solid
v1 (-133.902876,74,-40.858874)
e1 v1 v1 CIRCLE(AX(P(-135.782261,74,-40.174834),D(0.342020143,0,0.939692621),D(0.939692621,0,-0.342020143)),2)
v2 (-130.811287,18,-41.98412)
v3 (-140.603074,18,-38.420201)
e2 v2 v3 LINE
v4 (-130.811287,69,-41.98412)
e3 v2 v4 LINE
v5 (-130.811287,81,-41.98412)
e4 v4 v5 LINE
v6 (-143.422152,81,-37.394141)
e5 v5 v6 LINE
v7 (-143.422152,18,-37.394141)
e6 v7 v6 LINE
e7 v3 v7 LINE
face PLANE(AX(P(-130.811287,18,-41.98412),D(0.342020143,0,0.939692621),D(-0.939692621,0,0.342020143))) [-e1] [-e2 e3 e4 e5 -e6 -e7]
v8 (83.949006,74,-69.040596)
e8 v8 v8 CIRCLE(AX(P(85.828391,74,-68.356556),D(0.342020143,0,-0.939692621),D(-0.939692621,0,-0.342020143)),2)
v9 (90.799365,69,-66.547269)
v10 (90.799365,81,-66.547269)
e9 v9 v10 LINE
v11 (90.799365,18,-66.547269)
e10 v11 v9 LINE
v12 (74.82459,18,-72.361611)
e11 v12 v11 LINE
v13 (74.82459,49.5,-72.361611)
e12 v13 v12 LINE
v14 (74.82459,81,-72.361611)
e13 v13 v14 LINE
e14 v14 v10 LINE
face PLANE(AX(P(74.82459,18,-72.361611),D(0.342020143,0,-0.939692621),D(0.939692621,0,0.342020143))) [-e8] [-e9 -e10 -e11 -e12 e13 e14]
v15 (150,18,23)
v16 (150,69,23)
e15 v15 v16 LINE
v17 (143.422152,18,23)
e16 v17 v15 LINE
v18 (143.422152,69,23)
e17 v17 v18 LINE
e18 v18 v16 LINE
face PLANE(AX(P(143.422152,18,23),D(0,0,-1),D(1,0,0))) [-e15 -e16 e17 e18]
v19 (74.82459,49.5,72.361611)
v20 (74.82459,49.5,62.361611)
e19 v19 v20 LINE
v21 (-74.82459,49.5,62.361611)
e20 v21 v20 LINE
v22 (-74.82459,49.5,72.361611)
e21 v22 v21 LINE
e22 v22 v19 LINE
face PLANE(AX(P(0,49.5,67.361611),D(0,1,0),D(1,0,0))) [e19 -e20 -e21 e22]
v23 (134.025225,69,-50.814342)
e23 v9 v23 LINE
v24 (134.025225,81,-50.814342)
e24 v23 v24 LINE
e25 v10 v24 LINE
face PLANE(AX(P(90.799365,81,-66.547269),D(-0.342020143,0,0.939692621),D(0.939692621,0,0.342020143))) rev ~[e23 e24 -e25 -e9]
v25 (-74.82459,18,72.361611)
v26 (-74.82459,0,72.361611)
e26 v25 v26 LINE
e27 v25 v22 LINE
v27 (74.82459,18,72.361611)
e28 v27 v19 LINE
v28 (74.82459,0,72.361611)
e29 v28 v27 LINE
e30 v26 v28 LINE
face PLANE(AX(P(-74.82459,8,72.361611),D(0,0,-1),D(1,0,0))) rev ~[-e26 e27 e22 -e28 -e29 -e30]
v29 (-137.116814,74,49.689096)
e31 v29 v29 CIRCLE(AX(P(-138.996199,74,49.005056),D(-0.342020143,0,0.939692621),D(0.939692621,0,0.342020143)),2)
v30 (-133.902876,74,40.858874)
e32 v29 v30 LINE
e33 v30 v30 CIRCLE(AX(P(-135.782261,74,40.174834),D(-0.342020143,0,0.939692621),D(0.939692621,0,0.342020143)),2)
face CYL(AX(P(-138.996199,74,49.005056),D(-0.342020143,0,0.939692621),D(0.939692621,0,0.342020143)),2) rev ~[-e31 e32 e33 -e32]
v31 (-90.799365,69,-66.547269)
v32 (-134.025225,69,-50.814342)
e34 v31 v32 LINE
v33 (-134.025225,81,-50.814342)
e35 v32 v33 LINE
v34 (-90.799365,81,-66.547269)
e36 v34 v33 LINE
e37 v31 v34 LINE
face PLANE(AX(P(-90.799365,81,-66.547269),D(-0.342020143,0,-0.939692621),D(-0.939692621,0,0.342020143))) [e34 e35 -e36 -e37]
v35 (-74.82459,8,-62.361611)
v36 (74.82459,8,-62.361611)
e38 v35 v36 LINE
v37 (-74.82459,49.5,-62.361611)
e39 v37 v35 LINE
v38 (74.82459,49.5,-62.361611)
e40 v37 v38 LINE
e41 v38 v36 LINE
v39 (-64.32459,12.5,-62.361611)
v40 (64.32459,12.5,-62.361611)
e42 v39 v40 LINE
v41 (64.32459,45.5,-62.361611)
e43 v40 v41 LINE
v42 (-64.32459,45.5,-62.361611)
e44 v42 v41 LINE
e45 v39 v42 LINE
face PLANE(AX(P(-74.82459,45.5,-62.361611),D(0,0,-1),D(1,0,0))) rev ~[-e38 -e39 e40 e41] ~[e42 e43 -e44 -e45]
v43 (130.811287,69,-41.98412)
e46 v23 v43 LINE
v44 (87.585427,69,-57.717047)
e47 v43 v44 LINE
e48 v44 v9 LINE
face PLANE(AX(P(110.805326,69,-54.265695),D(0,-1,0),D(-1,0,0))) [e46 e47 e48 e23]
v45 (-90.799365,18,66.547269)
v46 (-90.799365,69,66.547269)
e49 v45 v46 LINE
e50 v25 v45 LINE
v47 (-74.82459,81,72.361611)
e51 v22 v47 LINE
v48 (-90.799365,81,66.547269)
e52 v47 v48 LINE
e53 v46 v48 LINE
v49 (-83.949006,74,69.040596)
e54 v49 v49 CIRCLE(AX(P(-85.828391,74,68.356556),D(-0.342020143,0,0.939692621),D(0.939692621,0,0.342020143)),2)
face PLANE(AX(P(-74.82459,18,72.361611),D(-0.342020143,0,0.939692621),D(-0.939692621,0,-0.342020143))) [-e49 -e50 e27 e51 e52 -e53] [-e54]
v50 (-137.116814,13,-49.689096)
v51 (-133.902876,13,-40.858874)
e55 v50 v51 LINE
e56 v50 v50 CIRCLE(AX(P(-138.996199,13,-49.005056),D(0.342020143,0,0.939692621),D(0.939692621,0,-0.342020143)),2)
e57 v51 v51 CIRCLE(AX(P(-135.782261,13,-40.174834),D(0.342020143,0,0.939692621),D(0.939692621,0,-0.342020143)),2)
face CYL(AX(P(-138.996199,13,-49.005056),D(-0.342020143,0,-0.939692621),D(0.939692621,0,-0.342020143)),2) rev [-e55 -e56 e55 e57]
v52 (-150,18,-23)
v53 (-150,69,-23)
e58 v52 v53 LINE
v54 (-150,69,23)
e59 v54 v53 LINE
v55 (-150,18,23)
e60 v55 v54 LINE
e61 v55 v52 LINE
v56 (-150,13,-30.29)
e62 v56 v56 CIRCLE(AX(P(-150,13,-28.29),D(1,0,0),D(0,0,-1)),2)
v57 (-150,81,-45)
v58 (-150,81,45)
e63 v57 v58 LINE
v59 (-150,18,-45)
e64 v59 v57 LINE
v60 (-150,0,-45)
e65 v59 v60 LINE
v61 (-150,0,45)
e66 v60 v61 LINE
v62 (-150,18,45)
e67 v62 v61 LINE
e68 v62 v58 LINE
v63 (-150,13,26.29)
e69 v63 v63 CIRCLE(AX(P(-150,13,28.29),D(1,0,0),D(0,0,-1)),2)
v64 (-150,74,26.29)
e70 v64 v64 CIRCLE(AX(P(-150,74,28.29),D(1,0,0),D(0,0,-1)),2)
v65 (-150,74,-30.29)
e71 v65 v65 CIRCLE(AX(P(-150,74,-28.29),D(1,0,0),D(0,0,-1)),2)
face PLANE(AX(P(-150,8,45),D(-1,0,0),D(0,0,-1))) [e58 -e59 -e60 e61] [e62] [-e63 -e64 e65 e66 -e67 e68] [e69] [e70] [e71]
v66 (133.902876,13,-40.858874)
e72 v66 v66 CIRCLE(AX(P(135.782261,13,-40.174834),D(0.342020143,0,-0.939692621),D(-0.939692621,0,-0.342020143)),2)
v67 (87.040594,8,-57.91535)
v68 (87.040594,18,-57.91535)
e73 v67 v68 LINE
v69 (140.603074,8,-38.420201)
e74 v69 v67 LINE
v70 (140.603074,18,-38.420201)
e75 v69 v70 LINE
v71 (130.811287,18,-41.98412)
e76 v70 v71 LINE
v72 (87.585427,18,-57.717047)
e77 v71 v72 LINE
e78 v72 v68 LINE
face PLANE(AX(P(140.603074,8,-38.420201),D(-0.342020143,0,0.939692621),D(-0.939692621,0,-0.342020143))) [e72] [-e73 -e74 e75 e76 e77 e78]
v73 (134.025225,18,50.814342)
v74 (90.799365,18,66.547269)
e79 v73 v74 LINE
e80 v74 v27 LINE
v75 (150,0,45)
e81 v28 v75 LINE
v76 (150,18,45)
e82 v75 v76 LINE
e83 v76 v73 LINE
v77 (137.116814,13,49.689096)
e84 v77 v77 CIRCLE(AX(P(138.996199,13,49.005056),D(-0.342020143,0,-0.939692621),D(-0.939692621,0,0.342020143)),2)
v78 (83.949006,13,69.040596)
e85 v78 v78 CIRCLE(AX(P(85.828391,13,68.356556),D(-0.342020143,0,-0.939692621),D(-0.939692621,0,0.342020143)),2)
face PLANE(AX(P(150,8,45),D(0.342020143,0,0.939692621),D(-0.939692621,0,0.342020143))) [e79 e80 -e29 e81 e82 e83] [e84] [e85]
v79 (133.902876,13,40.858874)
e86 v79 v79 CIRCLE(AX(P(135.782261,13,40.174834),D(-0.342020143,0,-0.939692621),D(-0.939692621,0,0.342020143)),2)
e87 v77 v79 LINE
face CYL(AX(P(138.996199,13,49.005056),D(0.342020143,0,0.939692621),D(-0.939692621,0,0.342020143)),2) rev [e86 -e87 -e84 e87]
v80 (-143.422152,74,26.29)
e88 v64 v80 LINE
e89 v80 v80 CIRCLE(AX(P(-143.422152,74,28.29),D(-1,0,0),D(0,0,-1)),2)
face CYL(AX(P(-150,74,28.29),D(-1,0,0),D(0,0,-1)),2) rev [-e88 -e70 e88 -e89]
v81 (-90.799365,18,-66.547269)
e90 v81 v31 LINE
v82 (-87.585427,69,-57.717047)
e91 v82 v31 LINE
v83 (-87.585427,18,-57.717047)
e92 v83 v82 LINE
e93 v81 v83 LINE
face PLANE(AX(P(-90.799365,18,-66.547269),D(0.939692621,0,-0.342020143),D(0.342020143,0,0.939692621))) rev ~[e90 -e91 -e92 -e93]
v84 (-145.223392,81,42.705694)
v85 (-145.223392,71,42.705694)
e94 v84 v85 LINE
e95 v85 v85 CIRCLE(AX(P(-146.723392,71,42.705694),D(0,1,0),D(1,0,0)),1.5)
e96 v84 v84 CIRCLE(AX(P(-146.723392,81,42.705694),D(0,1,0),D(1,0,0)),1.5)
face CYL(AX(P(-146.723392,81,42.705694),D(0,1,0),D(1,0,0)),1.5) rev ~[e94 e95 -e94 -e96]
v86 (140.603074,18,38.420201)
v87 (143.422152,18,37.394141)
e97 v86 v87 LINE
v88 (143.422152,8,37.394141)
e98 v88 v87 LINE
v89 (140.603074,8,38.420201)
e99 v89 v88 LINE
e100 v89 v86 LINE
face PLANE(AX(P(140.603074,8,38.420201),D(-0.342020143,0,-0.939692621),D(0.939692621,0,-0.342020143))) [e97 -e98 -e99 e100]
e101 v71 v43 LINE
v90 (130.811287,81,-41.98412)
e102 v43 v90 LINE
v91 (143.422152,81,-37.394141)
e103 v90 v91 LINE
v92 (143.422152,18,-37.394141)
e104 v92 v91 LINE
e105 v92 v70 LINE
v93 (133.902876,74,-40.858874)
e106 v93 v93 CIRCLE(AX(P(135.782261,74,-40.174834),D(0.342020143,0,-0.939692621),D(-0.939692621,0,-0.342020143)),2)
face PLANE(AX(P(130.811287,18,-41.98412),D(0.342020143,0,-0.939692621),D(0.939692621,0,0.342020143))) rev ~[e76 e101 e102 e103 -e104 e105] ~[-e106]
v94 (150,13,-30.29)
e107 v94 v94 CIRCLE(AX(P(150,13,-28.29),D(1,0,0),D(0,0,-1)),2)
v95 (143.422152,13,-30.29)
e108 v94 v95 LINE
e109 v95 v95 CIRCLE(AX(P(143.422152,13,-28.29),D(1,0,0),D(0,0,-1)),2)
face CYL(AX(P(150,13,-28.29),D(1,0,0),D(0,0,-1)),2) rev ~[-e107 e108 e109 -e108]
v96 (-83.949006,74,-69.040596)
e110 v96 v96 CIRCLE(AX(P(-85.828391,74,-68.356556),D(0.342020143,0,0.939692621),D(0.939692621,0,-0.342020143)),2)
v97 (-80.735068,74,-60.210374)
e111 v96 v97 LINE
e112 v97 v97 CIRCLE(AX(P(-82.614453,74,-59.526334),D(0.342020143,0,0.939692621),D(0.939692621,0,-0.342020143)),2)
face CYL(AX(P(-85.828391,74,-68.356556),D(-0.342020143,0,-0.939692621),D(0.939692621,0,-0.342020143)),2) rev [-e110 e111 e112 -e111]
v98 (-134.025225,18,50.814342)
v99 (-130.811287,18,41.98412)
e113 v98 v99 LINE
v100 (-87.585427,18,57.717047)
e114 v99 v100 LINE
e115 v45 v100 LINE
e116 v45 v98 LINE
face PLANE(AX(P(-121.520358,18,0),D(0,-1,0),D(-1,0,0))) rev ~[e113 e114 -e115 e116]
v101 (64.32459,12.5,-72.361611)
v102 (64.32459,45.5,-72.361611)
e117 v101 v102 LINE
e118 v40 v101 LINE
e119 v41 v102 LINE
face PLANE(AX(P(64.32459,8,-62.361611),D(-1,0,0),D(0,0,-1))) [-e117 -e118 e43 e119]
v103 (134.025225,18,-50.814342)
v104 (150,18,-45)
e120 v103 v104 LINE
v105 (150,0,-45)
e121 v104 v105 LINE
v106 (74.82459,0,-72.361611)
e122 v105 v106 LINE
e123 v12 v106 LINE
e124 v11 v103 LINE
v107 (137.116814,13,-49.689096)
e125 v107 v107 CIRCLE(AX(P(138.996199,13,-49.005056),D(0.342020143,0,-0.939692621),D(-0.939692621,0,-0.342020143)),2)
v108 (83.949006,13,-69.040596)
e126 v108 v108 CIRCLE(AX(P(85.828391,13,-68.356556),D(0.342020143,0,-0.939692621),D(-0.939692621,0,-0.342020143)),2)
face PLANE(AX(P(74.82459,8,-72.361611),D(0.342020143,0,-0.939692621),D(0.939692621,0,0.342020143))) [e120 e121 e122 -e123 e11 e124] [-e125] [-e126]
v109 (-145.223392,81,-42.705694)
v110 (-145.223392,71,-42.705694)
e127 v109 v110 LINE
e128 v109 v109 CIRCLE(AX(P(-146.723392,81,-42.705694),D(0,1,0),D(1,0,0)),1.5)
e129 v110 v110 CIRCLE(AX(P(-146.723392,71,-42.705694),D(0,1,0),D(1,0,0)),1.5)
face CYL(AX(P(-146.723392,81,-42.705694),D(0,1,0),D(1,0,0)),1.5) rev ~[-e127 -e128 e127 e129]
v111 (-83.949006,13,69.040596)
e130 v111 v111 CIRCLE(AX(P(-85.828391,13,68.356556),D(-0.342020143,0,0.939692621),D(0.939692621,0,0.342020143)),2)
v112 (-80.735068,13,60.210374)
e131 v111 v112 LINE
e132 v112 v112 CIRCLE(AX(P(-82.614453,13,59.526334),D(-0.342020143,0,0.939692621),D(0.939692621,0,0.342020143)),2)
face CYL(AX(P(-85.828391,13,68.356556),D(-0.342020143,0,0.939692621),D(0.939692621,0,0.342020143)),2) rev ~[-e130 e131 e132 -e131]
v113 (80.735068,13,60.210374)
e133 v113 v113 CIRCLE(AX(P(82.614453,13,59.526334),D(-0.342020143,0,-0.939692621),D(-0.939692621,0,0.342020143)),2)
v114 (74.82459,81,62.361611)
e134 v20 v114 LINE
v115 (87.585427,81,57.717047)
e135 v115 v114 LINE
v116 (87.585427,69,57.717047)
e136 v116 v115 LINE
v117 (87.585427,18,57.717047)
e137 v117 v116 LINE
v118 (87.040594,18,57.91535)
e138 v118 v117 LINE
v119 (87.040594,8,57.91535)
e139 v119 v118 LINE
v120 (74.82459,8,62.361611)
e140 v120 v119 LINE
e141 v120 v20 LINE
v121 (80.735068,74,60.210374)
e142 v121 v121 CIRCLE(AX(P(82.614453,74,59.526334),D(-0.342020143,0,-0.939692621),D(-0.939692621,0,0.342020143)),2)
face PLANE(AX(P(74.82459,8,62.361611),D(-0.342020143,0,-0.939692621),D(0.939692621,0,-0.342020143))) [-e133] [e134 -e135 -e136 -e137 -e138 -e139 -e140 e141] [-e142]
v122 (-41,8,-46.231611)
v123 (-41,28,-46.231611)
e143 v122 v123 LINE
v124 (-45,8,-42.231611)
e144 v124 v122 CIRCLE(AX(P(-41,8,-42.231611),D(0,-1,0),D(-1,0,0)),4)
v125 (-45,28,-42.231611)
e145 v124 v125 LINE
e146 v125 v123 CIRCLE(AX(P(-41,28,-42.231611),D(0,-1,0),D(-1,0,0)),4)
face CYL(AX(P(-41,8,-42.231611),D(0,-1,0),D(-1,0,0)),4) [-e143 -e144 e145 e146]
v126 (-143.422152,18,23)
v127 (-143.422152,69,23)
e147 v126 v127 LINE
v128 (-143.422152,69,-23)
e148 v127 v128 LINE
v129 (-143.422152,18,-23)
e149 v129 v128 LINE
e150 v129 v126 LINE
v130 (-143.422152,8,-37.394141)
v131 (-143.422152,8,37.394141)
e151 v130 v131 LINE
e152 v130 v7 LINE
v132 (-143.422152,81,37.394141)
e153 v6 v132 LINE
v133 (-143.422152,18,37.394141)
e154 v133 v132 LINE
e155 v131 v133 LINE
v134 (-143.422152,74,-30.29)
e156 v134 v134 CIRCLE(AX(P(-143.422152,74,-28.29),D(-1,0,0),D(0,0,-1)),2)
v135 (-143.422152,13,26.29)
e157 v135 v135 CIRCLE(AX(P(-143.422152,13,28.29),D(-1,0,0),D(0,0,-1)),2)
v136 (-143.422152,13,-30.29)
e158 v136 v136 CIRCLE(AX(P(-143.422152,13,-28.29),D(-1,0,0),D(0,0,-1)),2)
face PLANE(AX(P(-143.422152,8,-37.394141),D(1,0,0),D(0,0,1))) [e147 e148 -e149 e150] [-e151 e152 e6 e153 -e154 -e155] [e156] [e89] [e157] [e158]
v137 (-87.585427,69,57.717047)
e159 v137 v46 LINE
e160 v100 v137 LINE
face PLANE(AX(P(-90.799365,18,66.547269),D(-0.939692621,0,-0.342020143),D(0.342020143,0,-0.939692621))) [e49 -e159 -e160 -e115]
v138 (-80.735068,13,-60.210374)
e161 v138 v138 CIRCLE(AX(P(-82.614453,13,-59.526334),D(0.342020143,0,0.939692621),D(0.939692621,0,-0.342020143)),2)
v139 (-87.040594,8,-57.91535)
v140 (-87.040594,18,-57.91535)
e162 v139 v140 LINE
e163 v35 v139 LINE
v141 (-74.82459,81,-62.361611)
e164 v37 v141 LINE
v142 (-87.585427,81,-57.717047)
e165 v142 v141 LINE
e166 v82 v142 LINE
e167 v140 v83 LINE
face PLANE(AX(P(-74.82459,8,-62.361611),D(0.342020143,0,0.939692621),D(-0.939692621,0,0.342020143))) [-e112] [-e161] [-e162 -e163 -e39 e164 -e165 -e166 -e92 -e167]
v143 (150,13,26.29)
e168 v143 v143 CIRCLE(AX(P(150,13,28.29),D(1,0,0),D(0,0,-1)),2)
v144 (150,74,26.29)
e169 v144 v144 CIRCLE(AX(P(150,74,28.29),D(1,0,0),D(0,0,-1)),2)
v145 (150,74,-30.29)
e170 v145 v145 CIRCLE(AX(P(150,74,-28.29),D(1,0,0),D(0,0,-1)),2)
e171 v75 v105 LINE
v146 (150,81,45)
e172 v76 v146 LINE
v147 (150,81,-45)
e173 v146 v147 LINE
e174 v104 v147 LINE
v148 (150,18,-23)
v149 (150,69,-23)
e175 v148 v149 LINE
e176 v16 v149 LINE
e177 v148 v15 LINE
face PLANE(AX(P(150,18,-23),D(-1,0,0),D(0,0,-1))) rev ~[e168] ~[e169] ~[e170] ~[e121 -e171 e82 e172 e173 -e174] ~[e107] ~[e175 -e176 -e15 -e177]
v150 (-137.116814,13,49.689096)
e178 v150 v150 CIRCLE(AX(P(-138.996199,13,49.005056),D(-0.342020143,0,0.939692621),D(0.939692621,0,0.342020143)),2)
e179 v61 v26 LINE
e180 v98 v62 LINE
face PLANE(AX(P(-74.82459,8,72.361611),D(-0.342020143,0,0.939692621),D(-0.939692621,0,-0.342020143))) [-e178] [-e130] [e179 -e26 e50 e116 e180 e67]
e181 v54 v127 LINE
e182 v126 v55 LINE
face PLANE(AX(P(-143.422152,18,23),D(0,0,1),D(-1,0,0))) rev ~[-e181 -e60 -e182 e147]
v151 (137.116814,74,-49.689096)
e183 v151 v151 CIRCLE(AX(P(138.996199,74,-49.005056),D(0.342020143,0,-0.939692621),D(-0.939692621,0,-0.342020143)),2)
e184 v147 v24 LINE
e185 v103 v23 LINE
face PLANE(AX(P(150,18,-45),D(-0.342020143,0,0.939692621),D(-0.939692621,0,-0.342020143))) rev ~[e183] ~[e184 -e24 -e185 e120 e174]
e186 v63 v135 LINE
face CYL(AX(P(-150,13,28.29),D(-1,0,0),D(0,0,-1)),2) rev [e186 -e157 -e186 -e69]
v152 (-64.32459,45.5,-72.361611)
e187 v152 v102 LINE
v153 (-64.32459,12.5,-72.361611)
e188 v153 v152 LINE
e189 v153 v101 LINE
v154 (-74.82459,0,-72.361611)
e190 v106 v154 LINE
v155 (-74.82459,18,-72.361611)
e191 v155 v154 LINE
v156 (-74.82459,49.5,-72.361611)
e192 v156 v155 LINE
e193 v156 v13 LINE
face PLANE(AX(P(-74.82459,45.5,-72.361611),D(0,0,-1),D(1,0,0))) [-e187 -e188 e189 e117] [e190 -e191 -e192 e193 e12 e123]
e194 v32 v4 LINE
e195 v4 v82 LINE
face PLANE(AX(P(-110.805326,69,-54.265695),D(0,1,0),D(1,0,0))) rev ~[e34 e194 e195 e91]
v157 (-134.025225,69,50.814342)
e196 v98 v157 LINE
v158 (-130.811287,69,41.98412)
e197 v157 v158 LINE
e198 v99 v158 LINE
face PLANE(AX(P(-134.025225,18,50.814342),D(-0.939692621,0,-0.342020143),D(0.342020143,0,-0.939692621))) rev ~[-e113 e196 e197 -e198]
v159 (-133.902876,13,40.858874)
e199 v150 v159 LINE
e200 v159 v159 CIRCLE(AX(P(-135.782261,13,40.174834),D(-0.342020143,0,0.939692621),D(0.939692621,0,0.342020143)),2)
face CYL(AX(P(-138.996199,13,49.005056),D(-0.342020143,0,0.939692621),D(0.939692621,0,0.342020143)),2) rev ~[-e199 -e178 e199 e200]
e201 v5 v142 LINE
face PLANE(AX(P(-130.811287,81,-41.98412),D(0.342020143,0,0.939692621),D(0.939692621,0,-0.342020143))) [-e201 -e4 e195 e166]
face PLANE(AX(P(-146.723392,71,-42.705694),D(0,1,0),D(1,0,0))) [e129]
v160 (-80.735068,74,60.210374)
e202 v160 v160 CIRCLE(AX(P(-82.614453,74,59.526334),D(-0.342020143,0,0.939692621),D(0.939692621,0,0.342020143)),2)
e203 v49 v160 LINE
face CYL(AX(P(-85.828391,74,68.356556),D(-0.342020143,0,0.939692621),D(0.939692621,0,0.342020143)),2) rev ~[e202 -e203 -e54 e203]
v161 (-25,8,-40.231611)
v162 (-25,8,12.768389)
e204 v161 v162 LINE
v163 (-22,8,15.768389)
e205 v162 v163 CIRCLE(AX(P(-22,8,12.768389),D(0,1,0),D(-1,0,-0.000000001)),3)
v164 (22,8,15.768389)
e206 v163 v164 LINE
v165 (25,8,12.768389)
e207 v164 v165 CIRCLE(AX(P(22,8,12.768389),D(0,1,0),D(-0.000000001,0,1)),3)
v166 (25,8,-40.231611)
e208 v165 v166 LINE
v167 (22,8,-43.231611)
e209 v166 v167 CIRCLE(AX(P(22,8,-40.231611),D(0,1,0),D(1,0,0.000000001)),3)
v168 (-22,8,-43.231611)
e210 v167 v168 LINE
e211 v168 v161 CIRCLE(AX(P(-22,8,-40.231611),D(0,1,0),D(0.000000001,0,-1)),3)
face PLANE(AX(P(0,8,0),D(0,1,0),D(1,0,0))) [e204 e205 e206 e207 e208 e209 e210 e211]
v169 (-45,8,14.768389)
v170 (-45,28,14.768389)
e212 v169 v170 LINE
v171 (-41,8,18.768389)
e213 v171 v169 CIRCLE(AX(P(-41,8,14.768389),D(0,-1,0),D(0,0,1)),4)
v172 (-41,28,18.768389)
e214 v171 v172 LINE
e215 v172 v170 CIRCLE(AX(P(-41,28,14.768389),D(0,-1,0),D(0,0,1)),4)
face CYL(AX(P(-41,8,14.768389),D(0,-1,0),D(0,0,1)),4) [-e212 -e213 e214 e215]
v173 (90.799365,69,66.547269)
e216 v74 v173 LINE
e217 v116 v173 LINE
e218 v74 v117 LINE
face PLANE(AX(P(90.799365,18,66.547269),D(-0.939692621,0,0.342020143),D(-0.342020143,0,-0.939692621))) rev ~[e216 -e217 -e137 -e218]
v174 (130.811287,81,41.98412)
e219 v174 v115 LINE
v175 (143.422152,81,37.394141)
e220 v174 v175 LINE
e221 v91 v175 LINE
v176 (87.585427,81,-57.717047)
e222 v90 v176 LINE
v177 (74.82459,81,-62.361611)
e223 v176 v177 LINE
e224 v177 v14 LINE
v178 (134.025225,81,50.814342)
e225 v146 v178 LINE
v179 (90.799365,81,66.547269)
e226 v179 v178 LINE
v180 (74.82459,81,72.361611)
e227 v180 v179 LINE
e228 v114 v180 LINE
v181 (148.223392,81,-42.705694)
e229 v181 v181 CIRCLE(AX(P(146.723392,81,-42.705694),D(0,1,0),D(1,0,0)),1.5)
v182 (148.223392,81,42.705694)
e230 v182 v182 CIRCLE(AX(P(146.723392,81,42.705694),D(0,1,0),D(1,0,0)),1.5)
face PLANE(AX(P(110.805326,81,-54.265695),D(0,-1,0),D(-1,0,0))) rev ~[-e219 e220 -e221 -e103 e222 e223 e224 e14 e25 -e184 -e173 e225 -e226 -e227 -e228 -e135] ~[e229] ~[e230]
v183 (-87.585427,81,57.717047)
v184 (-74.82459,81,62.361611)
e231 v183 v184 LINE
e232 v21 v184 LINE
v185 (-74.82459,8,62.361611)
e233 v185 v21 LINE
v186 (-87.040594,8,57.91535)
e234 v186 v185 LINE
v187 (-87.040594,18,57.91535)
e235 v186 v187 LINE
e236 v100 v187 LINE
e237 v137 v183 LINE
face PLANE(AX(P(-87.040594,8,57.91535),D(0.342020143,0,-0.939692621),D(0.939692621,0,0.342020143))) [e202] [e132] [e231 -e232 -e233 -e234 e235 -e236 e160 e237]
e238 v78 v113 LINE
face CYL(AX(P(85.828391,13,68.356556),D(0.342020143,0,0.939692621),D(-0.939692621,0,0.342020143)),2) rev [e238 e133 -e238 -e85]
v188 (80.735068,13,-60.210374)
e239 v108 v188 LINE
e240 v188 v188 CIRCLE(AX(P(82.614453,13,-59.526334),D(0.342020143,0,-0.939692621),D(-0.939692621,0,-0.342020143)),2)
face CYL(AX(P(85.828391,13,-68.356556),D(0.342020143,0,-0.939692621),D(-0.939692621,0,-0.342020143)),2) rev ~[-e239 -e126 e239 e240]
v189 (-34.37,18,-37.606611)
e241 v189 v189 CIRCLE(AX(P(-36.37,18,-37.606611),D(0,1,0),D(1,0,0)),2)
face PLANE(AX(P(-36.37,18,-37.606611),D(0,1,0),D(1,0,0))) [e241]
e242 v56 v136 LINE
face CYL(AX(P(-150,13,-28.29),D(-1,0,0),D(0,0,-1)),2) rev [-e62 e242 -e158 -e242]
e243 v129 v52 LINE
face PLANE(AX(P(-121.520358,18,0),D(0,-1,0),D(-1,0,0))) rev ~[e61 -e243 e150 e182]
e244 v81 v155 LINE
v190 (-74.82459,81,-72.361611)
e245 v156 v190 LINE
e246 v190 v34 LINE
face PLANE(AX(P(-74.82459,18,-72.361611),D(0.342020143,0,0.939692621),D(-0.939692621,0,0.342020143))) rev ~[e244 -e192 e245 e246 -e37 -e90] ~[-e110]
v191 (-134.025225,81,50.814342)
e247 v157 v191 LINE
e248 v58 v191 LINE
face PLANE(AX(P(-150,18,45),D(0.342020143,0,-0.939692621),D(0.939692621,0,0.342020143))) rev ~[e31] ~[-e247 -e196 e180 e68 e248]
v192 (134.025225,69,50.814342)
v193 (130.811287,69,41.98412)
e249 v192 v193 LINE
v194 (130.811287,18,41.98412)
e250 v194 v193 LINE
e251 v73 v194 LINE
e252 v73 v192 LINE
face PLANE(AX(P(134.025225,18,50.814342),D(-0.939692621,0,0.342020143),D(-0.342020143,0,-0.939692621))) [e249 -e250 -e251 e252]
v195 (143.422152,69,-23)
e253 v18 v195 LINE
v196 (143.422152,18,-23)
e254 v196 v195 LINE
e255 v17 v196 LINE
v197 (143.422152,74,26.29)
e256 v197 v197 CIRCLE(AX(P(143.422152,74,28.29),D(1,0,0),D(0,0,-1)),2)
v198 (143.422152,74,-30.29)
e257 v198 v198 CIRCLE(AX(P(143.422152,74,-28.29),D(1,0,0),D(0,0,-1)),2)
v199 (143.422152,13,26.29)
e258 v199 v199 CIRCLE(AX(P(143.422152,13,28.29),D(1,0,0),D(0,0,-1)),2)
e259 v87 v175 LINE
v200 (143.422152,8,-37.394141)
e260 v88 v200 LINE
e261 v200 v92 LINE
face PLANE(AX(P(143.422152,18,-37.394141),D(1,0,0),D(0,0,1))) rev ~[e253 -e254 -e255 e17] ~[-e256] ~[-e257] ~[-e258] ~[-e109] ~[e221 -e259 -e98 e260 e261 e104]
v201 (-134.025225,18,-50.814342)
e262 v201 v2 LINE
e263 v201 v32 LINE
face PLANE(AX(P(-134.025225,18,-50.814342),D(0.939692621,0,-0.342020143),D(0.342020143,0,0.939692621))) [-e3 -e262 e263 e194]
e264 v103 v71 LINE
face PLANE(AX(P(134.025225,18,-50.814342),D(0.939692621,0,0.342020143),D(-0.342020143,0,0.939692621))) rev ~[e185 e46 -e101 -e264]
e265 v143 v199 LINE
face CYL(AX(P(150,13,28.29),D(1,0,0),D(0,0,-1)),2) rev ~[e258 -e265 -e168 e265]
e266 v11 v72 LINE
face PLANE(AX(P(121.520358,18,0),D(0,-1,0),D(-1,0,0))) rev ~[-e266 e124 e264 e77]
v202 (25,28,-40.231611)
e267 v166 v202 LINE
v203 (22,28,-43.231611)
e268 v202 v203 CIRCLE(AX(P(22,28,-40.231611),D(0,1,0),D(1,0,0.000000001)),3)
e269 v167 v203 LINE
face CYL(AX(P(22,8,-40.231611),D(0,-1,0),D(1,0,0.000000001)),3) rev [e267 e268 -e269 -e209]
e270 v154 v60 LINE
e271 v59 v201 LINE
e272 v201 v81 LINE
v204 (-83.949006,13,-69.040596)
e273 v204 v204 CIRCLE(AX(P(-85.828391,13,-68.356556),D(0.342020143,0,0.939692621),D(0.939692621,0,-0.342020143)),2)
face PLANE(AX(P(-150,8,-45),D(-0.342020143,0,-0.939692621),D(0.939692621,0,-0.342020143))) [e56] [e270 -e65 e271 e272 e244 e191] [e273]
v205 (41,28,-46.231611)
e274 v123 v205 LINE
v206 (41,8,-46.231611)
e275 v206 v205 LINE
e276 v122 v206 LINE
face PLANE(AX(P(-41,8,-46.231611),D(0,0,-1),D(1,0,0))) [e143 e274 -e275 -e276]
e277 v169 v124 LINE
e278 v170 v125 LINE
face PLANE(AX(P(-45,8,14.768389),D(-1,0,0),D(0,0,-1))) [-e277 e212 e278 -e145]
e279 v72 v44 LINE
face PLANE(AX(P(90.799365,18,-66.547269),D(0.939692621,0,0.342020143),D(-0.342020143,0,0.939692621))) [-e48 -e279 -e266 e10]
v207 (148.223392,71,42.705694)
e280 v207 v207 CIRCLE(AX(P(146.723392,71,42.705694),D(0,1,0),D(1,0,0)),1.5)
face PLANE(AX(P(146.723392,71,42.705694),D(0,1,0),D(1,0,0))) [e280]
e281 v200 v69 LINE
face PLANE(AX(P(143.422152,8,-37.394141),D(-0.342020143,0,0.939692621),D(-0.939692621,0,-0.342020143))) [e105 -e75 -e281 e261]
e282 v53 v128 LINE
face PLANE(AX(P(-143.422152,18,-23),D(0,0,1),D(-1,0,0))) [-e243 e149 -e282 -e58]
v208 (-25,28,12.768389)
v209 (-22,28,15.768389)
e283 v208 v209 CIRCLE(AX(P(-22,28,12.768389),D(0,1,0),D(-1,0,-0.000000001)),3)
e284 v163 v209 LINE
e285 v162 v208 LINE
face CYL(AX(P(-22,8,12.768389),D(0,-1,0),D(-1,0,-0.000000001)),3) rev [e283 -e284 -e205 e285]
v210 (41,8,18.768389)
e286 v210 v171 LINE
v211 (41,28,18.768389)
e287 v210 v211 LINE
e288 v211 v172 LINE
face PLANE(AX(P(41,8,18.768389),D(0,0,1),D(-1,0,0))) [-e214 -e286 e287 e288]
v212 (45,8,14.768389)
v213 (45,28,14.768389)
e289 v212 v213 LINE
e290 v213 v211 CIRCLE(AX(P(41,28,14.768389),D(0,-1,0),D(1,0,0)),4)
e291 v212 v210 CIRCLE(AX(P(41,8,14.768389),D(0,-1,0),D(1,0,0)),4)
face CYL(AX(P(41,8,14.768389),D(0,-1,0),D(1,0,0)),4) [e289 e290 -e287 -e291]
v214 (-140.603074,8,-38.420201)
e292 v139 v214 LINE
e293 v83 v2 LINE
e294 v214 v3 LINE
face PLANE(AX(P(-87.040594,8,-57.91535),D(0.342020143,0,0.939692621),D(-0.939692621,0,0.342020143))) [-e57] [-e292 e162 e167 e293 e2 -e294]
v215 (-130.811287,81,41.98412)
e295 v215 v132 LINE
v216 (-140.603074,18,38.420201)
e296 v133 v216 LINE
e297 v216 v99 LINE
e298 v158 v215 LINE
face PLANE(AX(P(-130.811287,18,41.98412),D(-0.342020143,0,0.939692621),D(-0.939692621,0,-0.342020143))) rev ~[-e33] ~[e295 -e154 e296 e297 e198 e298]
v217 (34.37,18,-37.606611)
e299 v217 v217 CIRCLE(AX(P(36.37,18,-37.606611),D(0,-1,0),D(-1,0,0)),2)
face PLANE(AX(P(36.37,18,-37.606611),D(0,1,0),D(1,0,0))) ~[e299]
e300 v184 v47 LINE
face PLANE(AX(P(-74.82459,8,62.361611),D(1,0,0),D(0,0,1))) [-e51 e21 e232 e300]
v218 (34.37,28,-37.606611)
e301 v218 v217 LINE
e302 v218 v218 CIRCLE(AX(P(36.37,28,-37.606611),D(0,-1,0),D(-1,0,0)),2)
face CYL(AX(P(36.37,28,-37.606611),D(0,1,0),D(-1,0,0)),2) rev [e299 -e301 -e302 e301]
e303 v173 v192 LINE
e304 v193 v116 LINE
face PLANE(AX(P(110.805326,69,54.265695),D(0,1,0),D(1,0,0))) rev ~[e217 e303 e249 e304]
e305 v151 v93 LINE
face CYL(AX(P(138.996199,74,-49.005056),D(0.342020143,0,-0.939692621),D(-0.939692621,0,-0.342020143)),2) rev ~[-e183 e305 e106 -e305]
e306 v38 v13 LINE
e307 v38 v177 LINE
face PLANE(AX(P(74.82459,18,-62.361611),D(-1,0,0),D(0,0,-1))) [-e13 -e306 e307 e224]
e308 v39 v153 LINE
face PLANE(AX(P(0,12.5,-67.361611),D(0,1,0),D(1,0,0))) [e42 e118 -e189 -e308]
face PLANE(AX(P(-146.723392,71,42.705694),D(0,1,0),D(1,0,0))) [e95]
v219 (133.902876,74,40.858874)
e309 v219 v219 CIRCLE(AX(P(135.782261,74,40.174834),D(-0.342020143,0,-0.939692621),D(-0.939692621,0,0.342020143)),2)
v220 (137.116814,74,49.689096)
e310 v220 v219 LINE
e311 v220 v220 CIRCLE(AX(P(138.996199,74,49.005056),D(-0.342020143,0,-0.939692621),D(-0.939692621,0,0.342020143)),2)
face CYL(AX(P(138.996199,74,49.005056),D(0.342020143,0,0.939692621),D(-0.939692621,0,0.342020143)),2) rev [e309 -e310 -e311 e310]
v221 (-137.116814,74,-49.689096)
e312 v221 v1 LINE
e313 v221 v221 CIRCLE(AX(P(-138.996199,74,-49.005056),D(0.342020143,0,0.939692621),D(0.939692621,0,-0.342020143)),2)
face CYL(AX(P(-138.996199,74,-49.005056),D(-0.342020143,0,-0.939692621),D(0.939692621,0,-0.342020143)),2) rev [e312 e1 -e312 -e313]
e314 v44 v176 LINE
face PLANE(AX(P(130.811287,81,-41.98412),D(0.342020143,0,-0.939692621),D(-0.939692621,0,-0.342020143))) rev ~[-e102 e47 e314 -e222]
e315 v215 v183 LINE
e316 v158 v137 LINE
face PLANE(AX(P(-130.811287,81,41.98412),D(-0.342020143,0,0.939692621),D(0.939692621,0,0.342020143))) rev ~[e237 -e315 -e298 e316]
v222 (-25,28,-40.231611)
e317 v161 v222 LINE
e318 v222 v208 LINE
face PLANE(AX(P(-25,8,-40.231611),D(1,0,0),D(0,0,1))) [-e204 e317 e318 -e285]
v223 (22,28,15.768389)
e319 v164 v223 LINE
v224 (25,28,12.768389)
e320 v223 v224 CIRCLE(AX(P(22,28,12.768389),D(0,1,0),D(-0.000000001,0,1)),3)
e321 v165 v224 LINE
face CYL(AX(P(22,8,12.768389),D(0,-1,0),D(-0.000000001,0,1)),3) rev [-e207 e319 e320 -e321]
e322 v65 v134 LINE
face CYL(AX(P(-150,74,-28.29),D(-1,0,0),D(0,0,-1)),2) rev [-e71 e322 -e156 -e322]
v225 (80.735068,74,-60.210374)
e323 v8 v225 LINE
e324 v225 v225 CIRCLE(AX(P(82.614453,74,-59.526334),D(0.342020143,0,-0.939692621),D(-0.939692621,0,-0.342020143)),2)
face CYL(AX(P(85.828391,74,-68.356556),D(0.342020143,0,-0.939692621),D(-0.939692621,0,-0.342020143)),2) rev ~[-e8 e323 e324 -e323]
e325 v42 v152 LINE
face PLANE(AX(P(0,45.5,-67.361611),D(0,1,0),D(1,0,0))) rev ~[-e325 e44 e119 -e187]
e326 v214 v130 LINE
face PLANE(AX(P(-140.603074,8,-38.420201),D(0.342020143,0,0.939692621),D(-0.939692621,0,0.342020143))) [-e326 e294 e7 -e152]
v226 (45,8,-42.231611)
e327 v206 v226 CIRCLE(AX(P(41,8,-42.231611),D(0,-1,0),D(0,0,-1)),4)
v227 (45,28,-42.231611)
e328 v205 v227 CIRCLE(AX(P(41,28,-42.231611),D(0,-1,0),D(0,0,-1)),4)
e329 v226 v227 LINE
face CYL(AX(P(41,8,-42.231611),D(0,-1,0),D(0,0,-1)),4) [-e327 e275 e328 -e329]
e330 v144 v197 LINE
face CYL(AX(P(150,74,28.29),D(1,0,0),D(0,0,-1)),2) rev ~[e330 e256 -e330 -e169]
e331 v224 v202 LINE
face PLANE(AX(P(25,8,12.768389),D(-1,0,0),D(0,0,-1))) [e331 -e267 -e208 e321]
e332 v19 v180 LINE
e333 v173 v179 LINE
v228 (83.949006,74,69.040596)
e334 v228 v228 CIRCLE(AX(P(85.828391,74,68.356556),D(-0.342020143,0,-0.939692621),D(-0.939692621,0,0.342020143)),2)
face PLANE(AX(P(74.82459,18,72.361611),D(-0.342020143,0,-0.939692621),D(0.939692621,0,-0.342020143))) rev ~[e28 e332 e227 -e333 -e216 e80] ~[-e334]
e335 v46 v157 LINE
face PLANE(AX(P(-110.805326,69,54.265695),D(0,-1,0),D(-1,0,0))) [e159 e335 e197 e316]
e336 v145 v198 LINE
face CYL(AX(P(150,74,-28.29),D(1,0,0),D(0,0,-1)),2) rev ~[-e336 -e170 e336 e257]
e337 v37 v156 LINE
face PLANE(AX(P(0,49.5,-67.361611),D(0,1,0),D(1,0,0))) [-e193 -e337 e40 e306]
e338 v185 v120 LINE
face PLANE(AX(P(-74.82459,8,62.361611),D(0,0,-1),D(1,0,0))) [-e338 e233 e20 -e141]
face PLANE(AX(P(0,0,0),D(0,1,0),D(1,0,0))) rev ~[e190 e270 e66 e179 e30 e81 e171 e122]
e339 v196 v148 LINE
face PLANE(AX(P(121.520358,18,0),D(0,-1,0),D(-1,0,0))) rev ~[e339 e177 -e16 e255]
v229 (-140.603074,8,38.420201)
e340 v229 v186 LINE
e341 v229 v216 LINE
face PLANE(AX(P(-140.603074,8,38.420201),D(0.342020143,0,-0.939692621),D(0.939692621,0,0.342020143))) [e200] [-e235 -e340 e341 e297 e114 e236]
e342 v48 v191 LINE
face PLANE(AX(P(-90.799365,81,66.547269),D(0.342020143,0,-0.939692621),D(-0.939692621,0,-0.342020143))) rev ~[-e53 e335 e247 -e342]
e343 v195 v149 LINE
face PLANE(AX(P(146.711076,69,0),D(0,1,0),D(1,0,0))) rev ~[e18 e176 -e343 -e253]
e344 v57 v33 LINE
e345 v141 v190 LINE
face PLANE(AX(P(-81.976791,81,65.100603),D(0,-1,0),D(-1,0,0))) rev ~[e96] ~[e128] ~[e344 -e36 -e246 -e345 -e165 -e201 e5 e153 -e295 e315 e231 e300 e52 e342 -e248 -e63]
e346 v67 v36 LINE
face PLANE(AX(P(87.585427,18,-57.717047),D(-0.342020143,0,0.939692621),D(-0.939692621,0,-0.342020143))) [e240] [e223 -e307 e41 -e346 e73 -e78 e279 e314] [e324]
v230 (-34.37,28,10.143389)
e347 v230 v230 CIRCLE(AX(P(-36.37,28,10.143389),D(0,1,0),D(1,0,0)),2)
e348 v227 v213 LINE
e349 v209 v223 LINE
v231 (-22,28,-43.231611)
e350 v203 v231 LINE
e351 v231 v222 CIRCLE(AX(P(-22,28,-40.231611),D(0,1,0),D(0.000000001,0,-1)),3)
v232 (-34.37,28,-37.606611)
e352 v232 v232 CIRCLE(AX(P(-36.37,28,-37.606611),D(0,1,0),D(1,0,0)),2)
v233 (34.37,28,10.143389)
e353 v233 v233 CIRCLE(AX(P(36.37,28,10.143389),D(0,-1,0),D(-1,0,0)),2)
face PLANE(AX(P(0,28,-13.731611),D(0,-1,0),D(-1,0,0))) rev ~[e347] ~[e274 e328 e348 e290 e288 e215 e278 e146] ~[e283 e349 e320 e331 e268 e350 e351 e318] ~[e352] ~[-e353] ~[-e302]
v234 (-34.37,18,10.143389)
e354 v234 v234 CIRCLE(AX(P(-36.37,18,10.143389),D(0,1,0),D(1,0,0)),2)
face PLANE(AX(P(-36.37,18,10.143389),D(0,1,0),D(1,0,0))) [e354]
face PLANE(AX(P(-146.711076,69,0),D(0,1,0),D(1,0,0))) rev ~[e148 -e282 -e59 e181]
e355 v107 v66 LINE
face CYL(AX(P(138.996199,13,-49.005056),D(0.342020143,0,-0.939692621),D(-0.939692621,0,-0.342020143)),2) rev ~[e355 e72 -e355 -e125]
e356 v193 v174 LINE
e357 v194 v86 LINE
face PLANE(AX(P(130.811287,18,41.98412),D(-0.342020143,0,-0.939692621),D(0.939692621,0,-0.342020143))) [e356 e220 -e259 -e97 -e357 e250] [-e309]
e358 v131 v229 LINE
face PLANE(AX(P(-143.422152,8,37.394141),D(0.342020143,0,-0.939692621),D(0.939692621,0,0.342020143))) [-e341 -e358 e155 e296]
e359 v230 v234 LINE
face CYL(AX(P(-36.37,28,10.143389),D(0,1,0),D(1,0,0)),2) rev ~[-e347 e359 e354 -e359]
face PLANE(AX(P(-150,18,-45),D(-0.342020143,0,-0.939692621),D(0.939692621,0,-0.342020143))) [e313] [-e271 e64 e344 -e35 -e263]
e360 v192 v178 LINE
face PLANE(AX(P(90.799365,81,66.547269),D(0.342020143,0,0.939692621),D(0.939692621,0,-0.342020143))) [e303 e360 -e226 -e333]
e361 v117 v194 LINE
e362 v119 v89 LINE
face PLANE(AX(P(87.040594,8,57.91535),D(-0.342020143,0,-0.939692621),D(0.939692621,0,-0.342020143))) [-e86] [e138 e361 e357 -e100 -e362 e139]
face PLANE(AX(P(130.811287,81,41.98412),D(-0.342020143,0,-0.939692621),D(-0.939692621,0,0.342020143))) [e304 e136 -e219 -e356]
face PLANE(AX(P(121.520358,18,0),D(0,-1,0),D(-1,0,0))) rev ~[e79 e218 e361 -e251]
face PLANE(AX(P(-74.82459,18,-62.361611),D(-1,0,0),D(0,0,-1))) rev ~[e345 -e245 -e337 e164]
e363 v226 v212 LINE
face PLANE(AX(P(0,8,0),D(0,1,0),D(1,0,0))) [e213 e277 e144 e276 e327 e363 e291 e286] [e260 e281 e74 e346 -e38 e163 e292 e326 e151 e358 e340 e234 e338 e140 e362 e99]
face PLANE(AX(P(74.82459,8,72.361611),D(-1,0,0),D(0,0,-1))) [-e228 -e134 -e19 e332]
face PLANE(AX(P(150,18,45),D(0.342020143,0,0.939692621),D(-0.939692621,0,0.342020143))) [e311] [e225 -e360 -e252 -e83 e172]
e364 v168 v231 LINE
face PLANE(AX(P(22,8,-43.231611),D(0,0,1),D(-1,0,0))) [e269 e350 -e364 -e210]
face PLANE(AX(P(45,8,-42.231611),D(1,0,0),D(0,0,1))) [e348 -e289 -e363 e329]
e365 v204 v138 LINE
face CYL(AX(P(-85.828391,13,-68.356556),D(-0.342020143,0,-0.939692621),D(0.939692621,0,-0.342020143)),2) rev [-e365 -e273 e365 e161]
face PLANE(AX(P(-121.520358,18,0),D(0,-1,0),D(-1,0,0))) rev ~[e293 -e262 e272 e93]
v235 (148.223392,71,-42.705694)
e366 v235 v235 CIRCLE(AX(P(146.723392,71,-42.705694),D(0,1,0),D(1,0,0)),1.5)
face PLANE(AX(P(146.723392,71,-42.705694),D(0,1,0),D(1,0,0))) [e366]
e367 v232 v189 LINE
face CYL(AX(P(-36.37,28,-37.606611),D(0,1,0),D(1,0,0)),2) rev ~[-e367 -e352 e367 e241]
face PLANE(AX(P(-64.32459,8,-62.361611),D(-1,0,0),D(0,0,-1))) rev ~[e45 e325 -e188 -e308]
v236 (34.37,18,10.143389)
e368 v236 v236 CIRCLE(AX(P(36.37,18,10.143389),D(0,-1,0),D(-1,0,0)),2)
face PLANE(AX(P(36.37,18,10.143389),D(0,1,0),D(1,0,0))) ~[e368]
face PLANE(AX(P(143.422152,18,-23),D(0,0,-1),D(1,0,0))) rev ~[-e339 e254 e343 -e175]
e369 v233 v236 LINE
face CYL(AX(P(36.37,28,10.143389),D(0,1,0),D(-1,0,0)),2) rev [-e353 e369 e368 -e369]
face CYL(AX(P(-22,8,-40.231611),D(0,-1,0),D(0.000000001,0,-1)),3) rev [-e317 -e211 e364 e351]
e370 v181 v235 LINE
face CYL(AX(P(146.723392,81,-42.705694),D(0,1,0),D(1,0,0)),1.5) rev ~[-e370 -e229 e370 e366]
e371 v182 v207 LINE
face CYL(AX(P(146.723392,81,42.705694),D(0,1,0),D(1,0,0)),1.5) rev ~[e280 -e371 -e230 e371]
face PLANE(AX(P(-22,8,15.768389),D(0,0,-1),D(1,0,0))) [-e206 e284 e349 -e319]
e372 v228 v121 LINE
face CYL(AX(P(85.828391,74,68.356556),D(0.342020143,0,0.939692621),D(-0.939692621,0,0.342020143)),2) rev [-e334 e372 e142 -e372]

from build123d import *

# Parameters (mm, degrees)
BOSS_EXTRUDE1_DEPTH     = 8
SKETCH2_W               = 10.5
SKETCH2_H               = 10
BOSS_EXTRUDE2_DEPTH     = 37.5
SKETCH4_W               = 128.649180674
SKETCH4_H               = 10
BOSS_EXTRUDE4_DEPTH     = 4.5
BOSS_EXTRUDE5_DEPTH     = 10
SKETCH6_W               = 149.649180674
SKETCH6_H               = 10
BOSS_EXTRUDE6_DEPTH     = 4
SKETCH7_R               = 2
CUT_EXTRUDE1_DEPTH      = 9.396926
MIRROR2_COPY_1_SKETCH_R = 2
MIRROR2_COPY_1_DEPTH    = 9.396926
SKETCH8_R               = 2
CUT_EXTRUDE2_DEPTH      = 75.17541
BOSS_EXTRUDE8_DEPTH     = 63
SKETCH10_R              = 2
CUT_EXTRUDE3_DEPTH      = 9.396926
MIRROR5_COPY_1_SKETCH_R = 2
MIRROR5_COPY_1_DEPTH    = 9.396926
SKETCH11_R              = 2
CUT_EXTRUDE4_DEPTH      = 75.17541
SKETCH12_W              = 6.577848346
SKETCH12_H              = 46
BOSS_EXTRUDE9_DEPTH     = 12
BOSS_EXTRUDE10_DEPTH    = 20
SKETCH14_R              = 2
CUT_EXTRUDE5_DEPTH      = 10
SKETCH15_W              = 149.649180674
SKETCH15_H              = 10
BOSS_EXTRUDE11_DEPTH    = 41.5
SKETCH17_R              = 1.5
CUT_EXTRUDE6_DEPTH      = 10


with BuildPart() as part:
    # Sketch1 → Boss-Extrude1 (new body)
    with BuildSketch(Plane(origin=(0, 0, 0), x_dir=(1, 0, 0), z_dir=(0, 1, 0))):
        Polygon((-150, 45), (-150, -45), (-74.824590337, -72.361611466), (74.824590337, -72.361611466), (150, -45), (150, 45), (74.824590337, 72.361611466), (-74.824590337, 72.361611466), align=None)
    extrude(amount=BOSS_EXTRUDE1_DEPTH)

    # Sketch2 → Boss-Extrude2 (add)
    with BuildSketch(Plane(origin=(0, 8, 0), x_dir=(1, 0, 0), z_dir=(0, 1, 0))):
        with Locations((69.574590337, 67.361611466)):
            Rectangle(SKETCH2_W, SKETCH2_H)
        with Locations((-69.574590337, 67.361611466)):
            Rectangle(SKETCH2_W, SKETCH2_H)
    extrude(amount=BOSS_EXTRUDE2_DEPTH)

    # Sketch4 → Boss-Extrude4 (add)
    with BuildSketch(Plane(origin=(0, 8, 0), x_dir=(1, 0, 0), z_dir=(0, 1, 0))):
        with Locations((0, 67.361611466)):
            Rectangle(SKETCH4_W, SKETCH4_H)
    extrude(amount=BOSS_EXTRUDE4_DEPTH)

    # Sketch5 → Boss-Extrude5 (add)
    with BuildSketch(Plane(origin=(0, 8, 0), x_dir=(1, 0, 0), z_dir=(0, 1, 0))):
        Polygon((-74.824590337, 62.361611466), (-87.040594407, 57.915349603), (-140.603073792, 38.420201433), (-143.422151654, 37.394141003), (-143.422151654, -37.394141003), (-140.603073792, -38.420201433), (-87.040594407, -57.915349603), (-74.824590337, -62.361611466), (-74.824590337, -72.361611466), (-150, -45), (-150, 45), (-74.824590337, 72.361611466), align=None)
        Polygon((150, 45), (150, -45), (74.824590337, -72.361611466), (74.824590337, -62.361611466), (87.040594407, -57.915349603), (140.603073792, -38.420201433), (143.422151654, -37.394141003), (143.422151654, 37.394141003), (140.603073792, 38.420201433), (87.040594407, 57.915349603), (74.824590337, 62.361611466), (74.824590337, 72.361611466), align=None)
    extrude(amount=BOSS_EXTRUDE5_DEPTH)

    # Sketch6 → Boss-Extrude6 (add)
    with BuildSketch(Plane(origin=(0, 45.5, 0), x_dir=(1, 0, 0), z_dir=(0, 1, 0))):
        with Locations((0, 67.361611466)):
            Rectangle(SKETCH6_W, SKETCH6_H)
    extrude(amount=BOSS_EXTRUDE6_DEPTH)

    # Sketch7 → Cut-Extrude1 (cut)
    with BuildSketch(Plane(origin=(32.009387984, 0, -87.945070697), x_dir=(-0.939692621, 0, -0.342020143), z_dir=(0.342020143, 0, -0.939692621))):
        with Locations((-113.852986668, 13)):
            Circle(SKETCH7_R)
        with Locations((-57.272986668, 13)):
            Circle(SKETCH7_R)
    cut_extrude1 = extrude(amount=-CUT_EXTRUDE1_DEPTH, mode=Mode.SUBTRACT)

    # Mirror1: Cut-Extrude1 across plane
    add(cut_extrude1.mirror(Plane(origin=(0, 0, 0), x_dir=(0, 0, 1), z_dir=(1, 0, 0))), mode=Mode.SUBTRACT)

    # Mirror2: Cut-Extrude1 across plane
    add(cut_extrude1.mirror(Plane(origin=(0, 0, 0), x_dir=(1, 0, 0), z_dir=(0, 0, -1))), mode=Mode.SUBTRACT)

    # Mirror2 copy 1 sketch → Mirror2 copy 1 (cut)
    with BuildSketch(Plane(origin=(-32.009387984, 0, 87.945070697), x_dir=(0.939692621, 0, 0.342020143), z_dir=(-0.342020143, 0, 0.939692621))):
        with Locations((-113.852986668, 13)):
            Circle(MIRROR2_COPY_1_SKETCH_R)
        with Locations((-57.272986668, 13)):
            Circle(MIRROR2_COPY_1_SKETCH_R)
    extrude(amount=-MIRROR2_COPY_1_DEPTH, mode=Mode.SUBTRACT)

    # Sketch8 → Cut-Extrude2 (cut)
    with BuildSketch(Plane(origin=(150, 0, 0), x_dir=(0, 0, -1), z_dir=(1, 0, 0))):
        with Locations((-28.29, 13)):
            Circle(SKETCH8_R)
        with Locations((28.29, 13)):
            Circle(SKETCH8_R)
    cut_extrude2 = extrude(amount=-CUT_EXTRUDE2_DEPTH, mode=Mode.SUBTRACT)

    # Mirror3: Cut-Extrude2 across plane
    add(cut_extrude2.mirror(Plane(origin=(0, 0, 0), x_dir=(0, 0, 1), z_dir=(1, 0, 0))), mode=Mode.SUBTRACT)

    # Sketch9 → Boss-Extrude8 (add)
    with BuildSketch(Plane(origin=(0, 18, 0), x_dir=(1, 0, 0), z_dir=(0, 1, 0))):
        Polygon((143.422151654, 23), (150, 23), (150, 45), (134.025225447, 50.814342437), (130.811287398, 41.984120221), (143.422151654, 37.394141003), align=None)
        Polygon((74.824590337, 72.361611466), (90.79936489, 66.54726903), (87.585426842, 57.717046814), (74.824590337, 62.361611466), align=None)
        Polygon((-74.824590337, 62.361611466), (-74.824590337, 72.361611466), (-90.79936489, 66.54726903), (-87.585426842, 57.717046814), align=None)
        Polygon((-143.422151654, 37.394141003), (-143.422151654, 23), (-150, 23), (-150, 45), (-134.025225447, 50.814342437), (-130.811287398, 41.984120221), align=None)
        Polygon((143.422151654, -37.394141003), (143.422151654, -23), (150, -23), (150, -45), (134.025225447, -50.814342437), (130.811287398, -41.984120221), align=None)
        Polygon((-143.422151654, -23), (-150, -23), (-150, -45), (-134.025225447, -50.814342437), (-130.811287398, -41.984120221), (-143.422151654, -37.394141003), align=None)
        Polygon((-74.824590337, -72.361611466), (-90.79936489, -66.54726903), (-87.585426842, -57.717046814), (-74.824590337, -62.361611466), align=None)
        Polygon((74.824590337, -62.361611466), (74.824590337, -72.361611466), (90.79936489, -66.54726903), (87.585426842, -57.717046814), align=None)
    extrude(amount=BOSS_EXTRUDE8_DEPTH)

    # Sketch10 → Cut-Extrude3 (cut)
    with BuildSketch(Plane(origin=(32.009387984, 0, -87.945070697), x_dir=(-0.939692621, 0, -0.342020143), z_dir=(0.342020143, 0, -0.939692621))):
        with Locations((-113.852986668, 74)):
            Circle(SKETCH10_R)
        with Locations((-57.272986668, 74)):
            Circle(SKETCH10_R)
    cut_extrude3 = extrude(amount=-CUT_EXTRUDE3_DEPTH, mode=Mode.SUBTRACT)

    # Mirror4: Cut-Extrude3 across plane
    add(cut_extrude3.mirror(Plane(origin=(0, 0, 0), x_dir=(0, 0, 1), z_dir=(1, 0, 0))), mode=Mode.SUBTRACT)

    # Mirror5: Cut-Extrude3 across plane
    add(cut_extrude3.mirror(Plane(origin=(0, 0, 0), x_dir=(1, 0, 0), z_dir=(0, 0, -1))), mode=Mode.SUBTRACT)

    # Mirror5 copy 1 sketch → Mirror5 copy 1 (cut)
    with BuildSketch(Plane(origin=(-32.009387984, 0, 87.945070697), x_dir=(0.939692621, 0, 0.342020143), z_dir=(-0.342020143, 0, 0.939692621))):
        with Locations((-113.852986668, 74)):
            Circle(MIRROR5_COPY_1_SKETCH_R)
        with Locations((-57.272986668, 74)):
            Circle(MIRROR5_COPY_1_SKETCH_R)
    extrude(amount=-MIRROR5_COPY_1_DEPTH, mode=Mode.SUBTRACT)

    # Sketch11 → Cut-Extrude4 (cut)
    with BuildSketch(Plane(origin=(150, 0, 0), x_dir=(0, 0, -1), z_dir=(1, 0, 0))):
        with Locations((-28.29, 74)):
            Circle(SKETCH11_R)
        with Locations((28.29, 74)):
            Circle(SKETCH11_R)
    cut_extrude4 = extrude(amount=-CUT_EXTRUDE4_DEPTH, mode=Mode.SUBTRACT)

    # Mirror6: Cut-Extrude4 across plane
    add(cut_extrude4.mirror(Plane(origin=(0, 0, 0), x_dir=(0, 0, 1), z_dir=(1, 0, 0))), mode=Mode.SUBTRACT)

    # Sketch12 → Boss-Extrude9 (add)
    with BuildSketch(Plane(origin=(0, 81, 0), x_dir=(1, 0, 0), z_dir=(0, 1, 0))):
        Polygon((130.811287398, 41.984120221), (87.585426842, 57.717046814), (90.79936489, 66.54726903), (134.025225447, 50.814342437), align=None)
        with Locations((146.711075827, 0)):
            Rectangle(SKETCH12_W, SKETCH12_H)
        Polygon((134.025225447, -50.814342437), (130.811287398, -41.984120221), (87.585426842, -57.717046814), (90.79936489, -66.54726903), align=None)
        Polygon((-130.811287398, -41.984120221), (-87.585426842, -57.717046814), (-90.79936489, -66.54726903), (-134.025225447, -50.814342437), align=None)
        with Locations((-146.711075827, 0)):
            Rectangle(SKETCH12_W, SKETCH12_H)
        Polygon((-134.025225447, 50.814342437), (-130.811287398, 41.984120221), (-87.585426842, 57.717046814), (-90.79936489, 66.54726903), align=None)
    extrude(amount=-BOSS_EXTRUDE9_DEPTH)

    # Sketch13 → Boss-Extrude10 (add)
    with BuildSketch(Plane(origin=(0, 8, 0), x_dir=(1, 0, 0), z_dir=(0, 1, 0))):
        with BuildLine():
            Line((-41, 46.231611466), (-29, 46.231611466))
            Line((-29, 46.231611466), (29, 46.231611466))
            Line((29, 46.231611466), (41, 46.231611466))
            ThreePointArc((41, 46.231611466), (43.828427125, 45.060038591), (45, 42.231611466))
            Line((45, 42.231611466), (45, -14.768388534))
            ThreePointArc((45, -14.768388534), (43.828427125, -17.596815659), (41, -18.768388534))
            Line((41, -18.768388534), (29, -18.768388534))
            Line((29, -18.768388534), (-29, -18.768388534))
            Line((-29, -18.768388534), (-41, -18.768388534))
            ThreePointArc((-41, -18.768388534), (-43.828427125, -17.596815659), (-45, -14.768388534))
            Line((-45, -14.768388534), (-45, 42.231611466))
            ThreePointArc((-45, 42.231611466), (-43.828427125, 45.060038591), (-41, 46.231611466))
        make_face()
        with BuildLine():
            Line((-25, 40.231611466), (-25, -12.768388534))
            ThreePointArc((-25, -12.768388534), (-24.121320344, -14.889708878), (-22, -15.768388534))
            Line((-22, -15.768388534), (22, -15.768388534))
            ThreePointArc((22, -15.768388534), (24.121320344, -14.889708878), (25, -12.768388534))
            Line((25, -12.768388534), (25, 40.231611466))
            ThreePointArc((25, 40.231611466), (24.121320344, 42.35293181), (22, 43.231611466))
            Line((22, 43.231611466), (-22, 43.231611466))
            ThreePointArc((-22, 43.231611466), (-24.121320344, 42.35293181), (-25, 40.231611466))
        make_face(mode=Mode.SUBTRACT)
    extrude(amount=BOSS_EXTRUDE10_DEPTH)

    # Sketch14 → Cut-Extrude5 (cut)
    with BuildSketch(Plane(origin=(0, 28, 0), x_dir=(1, 0, 0), z_dir=(0, 1, 0))):
        with Locations((-36.37, 37.606611466)):
            Circle(SKETCH14_R)
        with Locations((-36.37, -10.143388534)):
            Circle(SKETCH14_R)
    cut_extrude5 = extrude(amount=-CUT_EXTRUDE5_DEPTH, mode=Mode.SUBTRACT)

    # Mirror7: Cut-Extrude5 across plane
    add(cut_extrude5.mirror(Plane(origin=(0, 0, 0), x_dir=(0, 0, 1), z_dir=(1, 0, 0))), mode=Mode.SUBTRACT)

    # Sketch15 → Boss-Extrude11 (add)
    with BuildSketch(Plane(origin=(0, 8, 0), x_dir=(1, 0, 0), z_dir=(0, 1, 0))):
        with Locations((0, -67.361611466)):
            Rectangle(SKETCH15_W, SKETCH15_H)
    extrude(amount=BOSS_EXTRUDE11_DEPTH)

    # Sketch17 → Cut-Extrude6 (cut)
    with BuildSketch(Plane(origin=(0, 81, 0), x_dir=(1, 0, 0), z_dir=(0, 1, 0))):
        with Locations((146.723391823, -42.705694255)):
            Circle(SKETCH17_R)
        with Locations((146.723391823, 42.705694255)):
            Circle(SKETCH17_R)
        with Locations((-146.723391823, 42.705694255)):
            Circle(SKETCH17_R)
        with Locations((-146.723391823, -42.705694255)):
            Circle(SKETCH17_R)
    extrude(amount=-CUT_EXTRUDE6_DEPTH, mode=Mode.SUBTRACT)


solid = part.part
